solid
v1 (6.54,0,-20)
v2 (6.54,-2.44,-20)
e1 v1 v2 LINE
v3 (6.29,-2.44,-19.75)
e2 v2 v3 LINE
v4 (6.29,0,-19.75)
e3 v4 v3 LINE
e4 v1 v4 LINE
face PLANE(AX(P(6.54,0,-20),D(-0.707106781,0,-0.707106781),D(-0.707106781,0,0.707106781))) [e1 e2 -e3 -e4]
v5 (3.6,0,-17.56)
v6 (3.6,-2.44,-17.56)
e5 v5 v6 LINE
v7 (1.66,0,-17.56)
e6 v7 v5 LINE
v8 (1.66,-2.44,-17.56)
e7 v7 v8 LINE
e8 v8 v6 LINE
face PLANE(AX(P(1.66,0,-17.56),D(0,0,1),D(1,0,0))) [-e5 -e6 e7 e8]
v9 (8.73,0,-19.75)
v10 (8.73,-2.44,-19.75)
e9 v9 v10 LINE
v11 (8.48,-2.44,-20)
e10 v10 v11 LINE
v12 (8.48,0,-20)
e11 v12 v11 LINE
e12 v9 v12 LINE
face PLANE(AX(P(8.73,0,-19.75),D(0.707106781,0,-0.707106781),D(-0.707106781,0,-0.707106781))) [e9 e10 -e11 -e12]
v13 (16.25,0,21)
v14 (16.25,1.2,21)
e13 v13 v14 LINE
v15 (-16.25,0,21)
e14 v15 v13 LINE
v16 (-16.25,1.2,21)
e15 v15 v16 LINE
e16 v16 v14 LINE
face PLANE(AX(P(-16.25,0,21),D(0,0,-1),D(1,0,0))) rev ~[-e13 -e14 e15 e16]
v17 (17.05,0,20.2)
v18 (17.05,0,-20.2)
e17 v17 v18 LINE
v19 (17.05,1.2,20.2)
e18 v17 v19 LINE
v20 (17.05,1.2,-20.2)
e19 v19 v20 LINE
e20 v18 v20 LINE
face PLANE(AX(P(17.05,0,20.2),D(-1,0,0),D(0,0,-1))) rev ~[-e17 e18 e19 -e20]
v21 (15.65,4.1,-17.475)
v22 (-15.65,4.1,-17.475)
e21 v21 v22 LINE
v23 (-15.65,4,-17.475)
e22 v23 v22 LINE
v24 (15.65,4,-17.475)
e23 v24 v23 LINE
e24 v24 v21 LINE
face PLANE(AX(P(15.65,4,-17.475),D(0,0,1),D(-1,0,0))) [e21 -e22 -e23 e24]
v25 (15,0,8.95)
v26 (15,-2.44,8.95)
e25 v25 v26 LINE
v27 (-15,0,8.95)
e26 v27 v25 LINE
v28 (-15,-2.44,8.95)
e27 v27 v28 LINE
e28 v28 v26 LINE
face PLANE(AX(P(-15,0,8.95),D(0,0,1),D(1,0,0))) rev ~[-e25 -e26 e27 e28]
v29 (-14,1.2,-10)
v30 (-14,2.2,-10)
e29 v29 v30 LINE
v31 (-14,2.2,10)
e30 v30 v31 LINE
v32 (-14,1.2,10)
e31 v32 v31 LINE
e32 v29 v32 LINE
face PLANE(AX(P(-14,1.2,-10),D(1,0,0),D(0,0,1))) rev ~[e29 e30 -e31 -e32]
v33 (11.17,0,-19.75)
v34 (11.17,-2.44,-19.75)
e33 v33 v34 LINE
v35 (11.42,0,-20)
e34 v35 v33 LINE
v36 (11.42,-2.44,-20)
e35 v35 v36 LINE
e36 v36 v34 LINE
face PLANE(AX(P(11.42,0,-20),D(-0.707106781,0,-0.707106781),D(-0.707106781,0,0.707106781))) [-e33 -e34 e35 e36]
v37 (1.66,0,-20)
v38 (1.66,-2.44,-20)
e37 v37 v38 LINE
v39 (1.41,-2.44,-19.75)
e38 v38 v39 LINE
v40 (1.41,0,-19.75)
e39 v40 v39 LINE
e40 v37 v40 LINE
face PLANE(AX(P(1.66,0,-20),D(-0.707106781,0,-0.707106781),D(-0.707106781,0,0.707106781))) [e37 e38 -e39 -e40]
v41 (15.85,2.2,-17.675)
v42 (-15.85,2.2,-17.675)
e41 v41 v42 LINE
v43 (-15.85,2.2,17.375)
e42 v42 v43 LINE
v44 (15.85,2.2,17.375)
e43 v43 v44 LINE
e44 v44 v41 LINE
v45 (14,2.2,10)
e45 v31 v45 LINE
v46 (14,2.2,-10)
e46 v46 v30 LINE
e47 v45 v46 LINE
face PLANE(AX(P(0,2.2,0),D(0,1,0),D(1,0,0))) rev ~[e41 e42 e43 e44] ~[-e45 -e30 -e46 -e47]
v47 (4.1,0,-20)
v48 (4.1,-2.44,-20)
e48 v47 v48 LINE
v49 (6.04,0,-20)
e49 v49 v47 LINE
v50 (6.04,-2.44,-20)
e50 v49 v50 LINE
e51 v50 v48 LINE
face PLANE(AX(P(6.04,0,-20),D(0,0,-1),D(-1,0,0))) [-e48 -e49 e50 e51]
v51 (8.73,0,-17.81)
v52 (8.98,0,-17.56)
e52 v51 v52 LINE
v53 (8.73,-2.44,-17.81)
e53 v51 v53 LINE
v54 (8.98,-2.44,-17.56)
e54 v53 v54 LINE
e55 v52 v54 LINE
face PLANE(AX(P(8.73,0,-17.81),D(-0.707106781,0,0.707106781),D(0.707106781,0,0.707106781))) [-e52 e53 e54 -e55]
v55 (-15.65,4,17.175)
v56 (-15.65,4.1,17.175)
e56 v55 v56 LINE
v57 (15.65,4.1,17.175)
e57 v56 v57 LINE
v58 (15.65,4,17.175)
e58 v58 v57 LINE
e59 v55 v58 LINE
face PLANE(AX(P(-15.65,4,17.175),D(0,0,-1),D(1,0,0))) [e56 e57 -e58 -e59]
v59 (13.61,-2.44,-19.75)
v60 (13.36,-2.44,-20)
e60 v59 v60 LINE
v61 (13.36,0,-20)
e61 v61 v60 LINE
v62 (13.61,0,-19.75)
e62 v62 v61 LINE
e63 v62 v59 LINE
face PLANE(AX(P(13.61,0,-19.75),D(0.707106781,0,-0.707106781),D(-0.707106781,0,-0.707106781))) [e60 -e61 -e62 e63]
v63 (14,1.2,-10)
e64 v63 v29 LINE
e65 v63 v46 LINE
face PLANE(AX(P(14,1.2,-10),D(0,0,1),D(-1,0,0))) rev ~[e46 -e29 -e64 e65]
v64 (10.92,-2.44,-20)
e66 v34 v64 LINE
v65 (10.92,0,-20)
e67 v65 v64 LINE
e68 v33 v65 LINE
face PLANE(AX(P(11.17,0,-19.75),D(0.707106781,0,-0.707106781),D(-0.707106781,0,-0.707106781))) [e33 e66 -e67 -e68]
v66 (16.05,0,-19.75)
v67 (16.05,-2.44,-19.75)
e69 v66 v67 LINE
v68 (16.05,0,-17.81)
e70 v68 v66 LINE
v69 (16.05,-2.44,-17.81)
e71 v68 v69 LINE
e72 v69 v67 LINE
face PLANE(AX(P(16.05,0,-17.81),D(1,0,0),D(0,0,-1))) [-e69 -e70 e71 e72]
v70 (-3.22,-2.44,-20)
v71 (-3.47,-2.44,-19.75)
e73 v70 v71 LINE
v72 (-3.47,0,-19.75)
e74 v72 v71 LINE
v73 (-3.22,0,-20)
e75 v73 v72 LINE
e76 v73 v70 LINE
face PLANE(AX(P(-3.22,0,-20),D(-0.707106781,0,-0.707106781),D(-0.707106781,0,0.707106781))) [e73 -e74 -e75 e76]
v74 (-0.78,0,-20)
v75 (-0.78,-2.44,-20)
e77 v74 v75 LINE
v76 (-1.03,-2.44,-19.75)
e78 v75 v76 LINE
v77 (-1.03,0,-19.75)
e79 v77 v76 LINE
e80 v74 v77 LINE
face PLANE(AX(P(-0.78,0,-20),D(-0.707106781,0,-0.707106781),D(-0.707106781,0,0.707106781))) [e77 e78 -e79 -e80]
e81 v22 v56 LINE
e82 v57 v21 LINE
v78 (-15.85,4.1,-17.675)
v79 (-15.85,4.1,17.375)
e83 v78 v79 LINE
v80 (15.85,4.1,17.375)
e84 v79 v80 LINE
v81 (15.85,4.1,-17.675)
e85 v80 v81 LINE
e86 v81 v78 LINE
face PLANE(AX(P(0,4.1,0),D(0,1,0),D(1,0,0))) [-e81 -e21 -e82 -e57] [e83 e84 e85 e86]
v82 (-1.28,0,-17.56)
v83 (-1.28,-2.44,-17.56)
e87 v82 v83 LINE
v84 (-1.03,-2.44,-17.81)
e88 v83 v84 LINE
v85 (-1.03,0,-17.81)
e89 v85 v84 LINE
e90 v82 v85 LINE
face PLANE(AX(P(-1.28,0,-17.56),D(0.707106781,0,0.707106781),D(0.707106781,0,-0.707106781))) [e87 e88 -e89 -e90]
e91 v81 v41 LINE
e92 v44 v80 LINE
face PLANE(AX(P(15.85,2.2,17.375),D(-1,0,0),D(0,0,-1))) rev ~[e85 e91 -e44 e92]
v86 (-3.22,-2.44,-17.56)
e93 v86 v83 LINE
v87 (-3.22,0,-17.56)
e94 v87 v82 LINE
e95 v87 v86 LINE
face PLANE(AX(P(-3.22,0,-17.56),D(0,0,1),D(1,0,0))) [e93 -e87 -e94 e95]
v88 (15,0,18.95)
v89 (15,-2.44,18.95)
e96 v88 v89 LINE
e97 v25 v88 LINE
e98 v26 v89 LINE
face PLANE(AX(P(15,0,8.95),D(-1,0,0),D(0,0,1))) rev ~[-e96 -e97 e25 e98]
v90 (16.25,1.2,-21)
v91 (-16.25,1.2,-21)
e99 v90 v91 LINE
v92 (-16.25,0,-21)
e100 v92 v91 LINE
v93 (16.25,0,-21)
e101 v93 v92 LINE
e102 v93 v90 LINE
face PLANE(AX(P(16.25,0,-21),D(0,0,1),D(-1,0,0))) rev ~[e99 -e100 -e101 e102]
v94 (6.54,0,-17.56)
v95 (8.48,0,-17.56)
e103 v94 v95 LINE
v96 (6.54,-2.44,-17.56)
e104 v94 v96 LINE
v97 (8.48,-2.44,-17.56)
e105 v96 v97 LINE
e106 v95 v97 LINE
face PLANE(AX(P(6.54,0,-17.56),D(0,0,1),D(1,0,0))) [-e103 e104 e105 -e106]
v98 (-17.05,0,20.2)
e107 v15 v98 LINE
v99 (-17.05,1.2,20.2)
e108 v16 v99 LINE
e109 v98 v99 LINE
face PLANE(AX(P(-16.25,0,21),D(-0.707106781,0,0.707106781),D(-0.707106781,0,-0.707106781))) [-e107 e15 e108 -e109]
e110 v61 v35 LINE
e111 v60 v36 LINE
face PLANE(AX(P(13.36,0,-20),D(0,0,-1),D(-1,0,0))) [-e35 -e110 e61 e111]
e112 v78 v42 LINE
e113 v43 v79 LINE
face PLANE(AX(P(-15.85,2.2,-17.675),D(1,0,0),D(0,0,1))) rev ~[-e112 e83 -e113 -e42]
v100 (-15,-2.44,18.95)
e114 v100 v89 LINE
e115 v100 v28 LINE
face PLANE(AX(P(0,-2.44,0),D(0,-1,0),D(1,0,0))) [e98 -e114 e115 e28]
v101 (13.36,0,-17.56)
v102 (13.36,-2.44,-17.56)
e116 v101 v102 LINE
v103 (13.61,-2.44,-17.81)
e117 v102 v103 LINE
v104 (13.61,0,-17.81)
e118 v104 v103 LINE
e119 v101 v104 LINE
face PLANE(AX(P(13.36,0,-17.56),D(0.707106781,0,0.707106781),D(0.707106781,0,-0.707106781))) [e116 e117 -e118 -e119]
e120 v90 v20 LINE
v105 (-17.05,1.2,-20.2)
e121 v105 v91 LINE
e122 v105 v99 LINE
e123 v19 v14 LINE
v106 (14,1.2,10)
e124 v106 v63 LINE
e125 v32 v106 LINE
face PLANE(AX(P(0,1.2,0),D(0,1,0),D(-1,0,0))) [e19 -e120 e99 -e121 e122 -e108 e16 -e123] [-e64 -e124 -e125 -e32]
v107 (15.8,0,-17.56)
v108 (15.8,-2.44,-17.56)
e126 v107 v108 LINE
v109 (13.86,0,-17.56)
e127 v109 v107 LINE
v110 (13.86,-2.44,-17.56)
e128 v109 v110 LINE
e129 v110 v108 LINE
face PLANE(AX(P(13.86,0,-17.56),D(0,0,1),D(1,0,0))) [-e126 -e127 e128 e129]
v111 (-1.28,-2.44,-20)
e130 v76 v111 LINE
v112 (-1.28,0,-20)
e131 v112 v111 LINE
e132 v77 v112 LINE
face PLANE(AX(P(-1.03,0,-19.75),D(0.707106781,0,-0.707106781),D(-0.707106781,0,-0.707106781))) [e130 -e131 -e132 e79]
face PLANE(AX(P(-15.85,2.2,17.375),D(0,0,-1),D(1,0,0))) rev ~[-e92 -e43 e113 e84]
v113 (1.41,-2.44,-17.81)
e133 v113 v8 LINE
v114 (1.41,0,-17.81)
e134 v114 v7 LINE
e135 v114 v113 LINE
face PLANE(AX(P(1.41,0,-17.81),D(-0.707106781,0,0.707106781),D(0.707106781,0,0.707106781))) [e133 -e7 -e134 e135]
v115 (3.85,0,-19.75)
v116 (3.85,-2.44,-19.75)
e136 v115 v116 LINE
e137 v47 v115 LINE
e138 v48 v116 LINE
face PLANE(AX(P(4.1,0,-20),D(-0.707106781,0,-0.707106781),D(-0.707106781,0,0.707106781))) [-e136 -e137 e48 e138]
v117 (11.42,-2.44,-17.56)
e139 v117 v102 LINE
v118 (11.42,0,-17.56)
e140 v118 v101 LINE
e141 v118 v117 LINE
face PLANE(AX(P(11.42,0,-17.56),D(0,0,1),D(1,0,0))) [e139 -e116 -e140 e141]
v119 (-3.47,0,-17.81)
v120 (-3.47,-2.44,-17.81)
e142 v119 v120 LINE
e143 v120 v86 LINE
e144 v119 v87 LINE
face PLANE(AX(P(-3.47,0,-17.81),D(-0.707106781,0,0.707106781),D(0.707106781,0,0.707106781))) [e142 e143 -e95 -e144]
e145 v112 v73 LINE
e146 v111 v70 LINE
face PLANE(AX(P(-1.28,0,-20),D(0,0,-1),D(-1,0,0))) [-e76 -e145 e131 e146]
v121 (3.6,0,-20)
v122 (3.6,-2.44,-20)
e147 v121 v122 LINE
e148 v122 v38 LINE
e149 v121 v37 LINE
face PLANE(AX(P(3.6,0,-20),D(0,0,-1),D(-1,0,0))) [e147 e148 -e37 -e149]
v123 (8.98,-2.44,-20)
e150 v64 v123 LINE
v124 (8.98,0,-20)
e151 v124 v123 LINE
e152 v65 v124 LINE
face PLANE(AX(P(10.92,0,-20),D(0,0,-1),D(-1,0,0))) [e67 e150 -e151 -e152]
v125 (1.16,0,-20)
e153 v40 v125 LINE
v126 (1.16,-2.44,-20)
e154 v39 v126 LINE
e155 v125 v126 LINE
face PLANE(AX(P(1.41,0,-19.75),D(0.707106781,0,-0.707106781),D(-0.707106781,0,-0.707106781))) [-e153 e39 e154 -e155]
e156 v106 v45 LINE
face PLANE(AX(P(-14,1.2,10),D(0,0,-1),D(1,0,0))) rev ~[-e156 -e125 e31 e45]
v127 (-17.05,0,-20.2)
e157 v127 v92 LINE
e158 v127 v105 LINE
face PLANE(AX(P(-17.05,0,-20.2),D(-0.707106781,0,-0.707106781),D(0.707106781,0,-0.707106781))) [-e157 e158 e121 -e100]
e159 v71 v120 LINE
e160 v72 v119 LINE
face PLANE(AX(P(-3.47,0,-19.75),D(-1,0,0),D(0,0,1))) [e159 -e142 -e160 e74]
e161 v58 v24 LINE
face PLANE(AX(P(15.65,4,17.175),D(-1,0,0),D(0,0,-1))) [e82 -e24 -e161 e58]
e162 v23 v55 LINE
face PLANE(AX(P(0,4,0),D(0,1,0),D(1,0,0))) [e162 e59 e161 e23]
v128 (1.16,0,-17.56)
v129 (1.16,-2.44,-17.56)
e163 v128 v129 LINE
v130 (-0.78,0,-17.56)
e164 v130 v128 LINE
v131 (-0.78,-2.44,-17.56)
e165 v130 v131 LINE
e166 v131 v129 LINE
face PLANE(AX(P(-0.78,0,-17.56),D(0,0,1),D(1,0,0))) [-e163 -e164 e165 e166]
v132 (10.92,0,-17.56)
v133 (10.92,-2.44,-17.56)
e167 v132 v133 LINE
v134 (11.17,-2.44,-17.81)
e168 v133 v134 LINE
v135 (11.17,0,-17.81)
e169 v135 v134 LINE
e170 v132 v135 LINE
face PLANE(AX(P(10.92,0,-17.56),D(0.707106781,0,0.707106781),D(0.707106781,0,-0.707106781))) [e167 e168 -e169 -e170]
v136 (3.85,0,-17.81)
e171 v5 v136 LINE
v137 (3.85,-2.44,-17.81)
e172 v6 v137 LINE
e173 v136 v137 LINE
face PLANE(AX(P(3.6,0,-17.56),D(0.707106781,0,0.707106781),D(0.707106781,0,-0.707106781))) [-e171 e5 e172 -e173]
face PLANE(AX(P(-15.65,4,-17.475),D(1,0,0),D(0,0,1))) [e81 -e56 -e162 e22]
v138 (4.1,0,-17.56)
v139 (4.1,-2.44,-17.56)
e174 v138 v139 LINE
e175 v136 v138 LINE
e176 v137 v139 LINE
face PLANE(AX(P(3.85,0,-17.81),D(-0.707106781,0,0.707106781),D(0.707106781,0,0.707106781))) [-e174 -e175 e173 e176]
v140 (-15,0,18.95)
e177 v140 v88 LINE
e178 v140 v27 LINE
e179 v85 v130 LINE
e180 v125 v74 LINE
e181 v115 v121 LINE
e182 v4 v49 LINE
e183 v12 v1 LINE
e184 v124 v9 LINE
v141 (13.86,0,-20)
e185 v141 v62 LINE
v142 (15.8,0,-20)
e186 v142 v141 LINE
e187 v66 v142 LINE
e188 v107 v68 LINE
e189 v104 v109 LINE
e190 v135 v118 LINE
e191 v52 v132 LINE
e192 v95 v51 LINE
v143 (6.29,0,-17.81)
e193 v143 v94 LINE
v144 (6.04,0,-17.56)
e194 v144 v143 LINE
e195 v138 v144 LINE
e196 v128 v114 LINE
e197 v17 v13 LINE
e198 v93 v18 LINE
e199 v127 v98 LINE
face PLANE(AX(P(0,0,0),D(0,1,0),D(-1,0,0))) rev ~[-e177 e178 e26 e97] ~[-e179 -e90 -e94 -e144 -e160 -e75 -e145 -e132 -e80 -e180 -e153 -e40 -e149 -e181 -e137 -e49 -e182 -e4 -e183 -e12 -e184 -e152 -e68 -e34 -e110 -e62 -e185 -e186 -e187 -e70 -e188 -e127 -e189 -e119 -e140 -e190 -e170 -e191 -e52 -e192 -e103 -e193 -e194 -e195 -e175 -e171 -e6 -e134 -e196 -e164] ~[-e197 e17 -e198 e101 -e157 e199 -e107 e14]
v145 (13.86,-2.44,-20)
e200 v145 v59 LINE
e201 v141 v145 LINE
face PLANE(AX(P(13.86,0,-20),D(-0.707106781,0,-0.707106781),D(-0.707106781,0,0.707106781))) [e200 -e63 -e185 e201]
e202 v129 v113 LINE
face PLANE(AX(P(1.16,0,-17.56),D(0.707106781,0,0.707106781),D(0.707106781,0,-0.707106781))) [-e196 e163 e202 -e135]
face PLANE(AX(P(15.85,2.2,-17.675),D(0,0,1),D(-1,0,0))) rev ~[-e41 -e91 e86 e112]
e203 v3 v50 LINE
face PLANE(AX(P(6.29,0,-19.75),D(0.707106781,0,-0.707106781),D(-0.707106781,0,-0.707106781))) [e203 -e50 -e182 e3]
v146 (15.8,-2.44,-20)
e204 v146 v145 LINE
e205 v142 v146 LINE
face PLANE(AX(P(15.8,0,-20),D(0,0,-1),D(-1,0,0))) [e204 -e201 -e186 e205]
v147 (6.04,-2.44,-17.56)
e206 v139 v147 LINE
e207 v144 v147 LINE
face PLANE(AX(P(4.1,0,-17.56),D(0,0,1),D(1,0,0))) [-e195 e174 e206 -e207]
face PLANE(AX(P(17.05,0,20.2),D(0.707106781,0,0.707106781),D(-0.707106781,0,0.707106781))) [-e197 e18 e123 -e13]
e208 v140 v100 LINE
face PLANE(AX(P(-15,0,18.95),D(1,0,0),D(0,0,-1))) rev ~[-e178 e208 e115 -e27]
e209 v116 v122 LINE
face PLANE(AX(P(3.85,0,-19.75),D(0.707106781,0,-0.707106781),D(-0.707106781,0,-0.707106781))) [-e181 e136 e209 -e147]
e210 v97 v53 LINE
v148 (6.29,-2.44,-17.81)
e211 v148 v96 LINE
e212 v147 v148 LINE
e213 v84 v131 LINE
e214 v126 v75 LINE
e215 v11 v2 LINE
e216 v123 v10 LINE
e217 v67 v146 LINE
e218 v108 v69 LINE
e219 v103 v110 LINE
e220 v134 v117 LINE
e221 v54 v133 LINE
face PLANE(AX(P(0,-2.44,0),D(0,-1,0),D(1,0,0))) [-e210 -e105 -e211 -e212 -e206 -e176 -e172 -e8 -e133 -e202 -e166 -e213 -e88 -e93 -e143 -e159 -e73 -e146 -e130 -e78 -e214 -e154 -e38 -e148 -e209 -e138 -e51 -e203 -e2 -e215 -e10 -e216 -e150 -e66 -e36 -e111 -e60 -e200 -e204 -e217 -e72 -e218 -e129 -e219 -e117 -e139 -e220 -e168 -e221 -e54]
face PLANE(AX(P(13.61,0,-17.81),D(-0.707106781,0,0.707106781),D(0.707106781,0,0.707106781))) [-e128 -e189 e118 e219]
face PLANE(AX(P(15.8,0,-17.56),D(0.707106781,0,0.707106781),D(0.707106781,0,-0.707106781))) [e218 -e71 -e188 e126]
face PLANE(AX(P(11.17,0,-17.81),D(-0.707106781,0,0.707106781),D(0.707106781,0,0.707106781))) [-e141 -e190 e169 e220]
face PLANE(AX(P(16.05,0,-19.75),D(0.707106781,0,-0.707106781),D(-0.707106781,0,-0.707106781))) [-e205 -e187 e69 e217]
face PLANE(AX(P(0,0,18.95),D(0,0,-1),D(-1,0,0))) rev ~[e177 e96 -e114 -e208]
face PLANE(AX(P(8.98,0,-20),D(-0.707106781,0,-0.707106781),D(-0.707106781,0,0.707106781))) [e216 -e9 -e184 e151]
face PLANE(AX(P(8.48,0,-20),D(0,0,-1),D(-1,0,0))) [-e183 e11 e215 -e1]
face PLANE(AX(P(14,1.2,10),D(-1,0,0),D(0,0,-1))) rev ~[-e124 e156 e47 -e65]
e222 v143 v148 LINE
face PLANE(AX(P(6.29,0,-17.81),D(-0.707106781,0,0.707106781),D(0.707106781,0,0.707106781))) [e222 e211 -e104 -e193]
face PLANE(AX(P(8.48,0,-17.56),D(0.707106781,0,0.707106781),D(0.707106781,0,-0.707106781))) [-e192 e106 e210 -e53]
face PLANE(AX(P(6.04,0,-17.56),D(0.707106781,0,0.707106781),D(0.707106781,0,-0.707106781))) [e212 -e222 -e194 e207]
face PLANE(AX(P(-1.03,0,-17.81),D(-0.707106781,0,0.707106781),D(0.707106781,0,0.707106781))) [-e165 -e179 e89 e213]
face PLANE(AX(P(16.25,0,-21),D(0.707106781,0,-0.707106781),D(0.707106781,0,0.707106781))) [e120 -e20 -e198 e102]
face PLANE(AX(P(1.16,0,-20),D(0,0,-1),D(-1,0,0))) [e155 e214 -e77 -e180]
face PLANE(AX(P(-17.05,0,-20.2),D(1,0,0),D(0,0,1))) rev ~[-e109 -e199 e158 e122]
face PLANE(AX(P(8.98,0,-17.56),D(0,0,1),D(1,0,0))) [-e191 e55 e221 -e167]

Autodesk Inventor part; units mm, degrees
ref_plane "YZ Plane" through (0, 0, 0) normal (1, 0, 0) x (0, 1, 0)
sketch "Sketch1" plane through (0, 0, 0) normal (0, 1, 0) x (-1, 0, 0)
  line L0 (16.25, 21) -> (-16.25, 21)
  line L1 (-17.05, 20.2) -> (-17.05, -20.2)
  line L2 (-16.25, -21) -> (16.25, -21)
  line L3 (17.05, -20.2) -> (17.05, 20.2)
  line L4 (17.05, 21) -> (-17.05, -21) construction
  line L5 (-17.05, 21) -> (17.05, -21) construction
  line L6 (16.25, 21) -> (17.05, 20.2)
  line L7 (17.05, -20.2) -> (16.25, -21)
  line L8 (-16.25, -21) -> (-17.05, -20.2)
  line L9 (-17.05, 20.2) -> (-16.25, 21)
  point P0 (0, 0)
  dimension "d0" = 34.1
  dimension "d1" = 42
  dimension "d4" = 0.8
  dimension "d5" = 0.8
  dimension "d6" = 0.8
  dimension "d7" = 0.8
  dimension "d8" = 0.8
  dimension "d9" = 0.8
  dimension "d10" = 0.8
  dimension "d11" = 0.8
extrude "Extrusion1" add sketch "Sketch1" along normal blind 1.2
ref_plane "Work Plane1" through (0, 2.2, 0) normal (0, 1, 0) x (1, 0, 0)
sketch "Sketch2" plane through (0, 2.2, 0) normal (0, 1, 0) x (1, 0, 0)
  line L0 (-15.85, -17.375) -> (15.85, -17.375)
  line L1 (15.85, -17.375) -> (15.85, 17.675)
  line L2 (15.85, 17.675) -> (-15.85, 17.675)
  line L3 (-15.85, 17.675) -> (-15.85, -17.375)
  line L4 (-15.85, -17.375) -> (15.85, 17.675) construction
  line L5 (15.85, -17.375) -> (-15.85, 17.675) construction
  point P0 (0, 0.15)
  dimension "d13" = 31.7
  dimension "d14" = 35.05
extrude "Extrusion2" add sketch "Sketch2" along normal blind 1.8
sketch "Sketch3" plane through (0, 4, 0) normal (0, 1, 0) x (1, 0, 0)
  line L0 (-15.85, -17.375) -> (15.85, -17.375) projected
  line L1 (15.85, -17.375) -> (15.85, 17.675) projected
  line L2 (15.85, 17.675) -> (-15.85, 17.675) projected
  line L3 (-15.85, 17.675) -> (-15.85, -17.375) projected
  line L4 (-15.65, -17.175) -> (15.65, -17.175)
  line L5 (15.65, -17.175) -> (15.65, 17.475)
  line L6 (15.65, 17.475) -> (-15.65, 17.475)
  line L7 (-15.65, 17.475) -> (-15.65, -17.175)
  point P0 (0, 0)
  dimension "d17" = 0.2
extrude "Extrusion3" add sketch "Sketch3" along normal blind 0.1
sketch "Sketch4" plane through (0, 1.2, 0) normal (0, 1, 0) x (1, 0, 0)
  line L0 (-14, -10) -> (14, -10)
  line L1 (14, -10) -> (14, 10)
  line L2 (14, 10) -> (-14, 10)
  line L3 (-14, 10) -> (-14, -10)
  line L4 (-14, -10) -> (14, 10) construction
  line L5 (14, -10) -> (-14, 10) construction
  point P0 (0, 0)
  dimension "d20" = 28
  dimension "d21" = 20
extrude "Extrusion4" add sketch "Sketch4" along normal up to surface (1 mm away)
sketch "Sketch5" plane through (0, 0, 0) normal (0, -1, 0) x (1, 0, 0)
  line L0 (15.8, -20) -> (13.86, -20)
  line L1 (13.61, -19.75) -> (13.61, -17.81)
  line L2 (13.86, -17.56) -> (15.8, -17.56)
  line L3 (16.05, -17.81) -> (16.05, -19.75)
  line L4 (16.05, -19.75) -> (15.8, -20)
  line L5 (13.86, -20) -> (13.61, -19.75)
  line L6 (13.61, -17.81) -> (13.86, -17.56)
  line L7 (15.8, -17.56) -> (16.05, -17.81)
  line L8 (13.36, -20) -> (11.42, -20)
  line L9 (11.17, -19.75) -> (11.17, -17.81)
  line L10 (11.42, -17.56) -> (13.36, -17.56)
  line L11 (13.61, -17.81) -> (13.61, -19.75)
  line L12 (13.61, -19.75) -> (13.36, -20)
  line L13 (11.42, -20) -> (11.17, -19.75)
  line L14 (11.17, -17.81) -> (11.42, -17.56)
  line L15 (13.36, -17.56) -> (13.61, -17.81)
  line L16 (10.92, -20) -> (8.98, -20)
  line L17 (8.73, -19.75) -> (8.73, -17.81)
  line L18 (8.98, -17.56) -> (10.92, -17.56)
  line L19 (11.17, -17.81) -> (11.17, -19.75)
  line L20 (11.17, -19.75) -> (10.92, -20)
  line L21 (8.98, -20) -> (8.73, -19.75)
  line L22 (8.73, -17.81) -> (8.98, -17.56)
  line L23 (10.92, -17.56) -> (11.17, -17.81)
  line L24 (8.48, -20) -> (6.54, -20)
  line L25 (6.29, -19.75) -> (6.29, -17.81)
  line L26 (6.54, -17.56) -> (8.48, -17.56)
  line L27 (8.73, -17.81) -> (8.73, -19.75)
  line L28 (8.73, -19.75) -> (8.48, -20)
  line L29 (6.54, -20) -> (6.29, -19.75)
  line L30 (6.29, -17.81) -> (6.54, -17.56)
  line L31 (8.48, -17.56) -> (8.73, -17.81)
  line L32 (6.04, -20) -> (4.1, -20)
  line L33 (3.85, -19.75) -> (3.85, -17.81)
  line L34 (4.1, -17.56) -> (6.04, -17.56)
  line L35 (6.29, -17.81) -> (6.29, -19.75)
  line L36 (6.29, -19.75) -> (6.04, -20)
  line L37 (4.1, -20) -> (3.85, -19.75)
  line L38 (3.85, -17.81) -> (4.1, -17.56)
  line L39 (6.04, -17.56) -> (6.29, -17.81)
  line L40 (3.6, -20) -> (1.66, -20)
  line L41 (1.41, -19.75) -> (1.41, -17.81)
  line L42 (1.66, -17.56) -> (3.6, -17.56)
  line L43 (3.85, -17.81) -> (3.85, -19.75)
  line L44 (3.85, -19.75) -> (3.6, -20)
  line L45 (1.66, -20) -> (1.41, -19.75)
  line L46 (1.41, -17.81) -> (1.66, -17.56)
  line L47 (3.6, -17.56) -> (3.85, -17.81)
  line L48 (1.16, -20) -> (-0.78, -20)
  line L49 (-1.03, -19.75) -> (-1.03, -17.81)
  line L50 (-0.78, -17.56) -> (1.16, -17.56)
  line L51 (1.41, -17.81) -> (1.41, -19.75)
  line L52 (1.41, -19.75) -> (1.16, -20)
  line L53 (-0.78, -20) -> (-1.03, -19.75)
  line L54 (-1.03, -17.81) -> (-0.78, -17.56)
  line L55 (1.16, -17.56) -> (1.41, -17.81)
  line L56 (-1.28, -20) -> (-3.22, -20)
  line L57 (-3.47, -19.75) -> (-3.47, -17.81)
  line L58 (-3.22, -17.56) -> (-1.28, -17.56)
  line L59 (-1.03, -17.81) -> (-1.03, -19.75)
  line L60 (-1.03, -19.75) -> (-1.28, -20)
  line L61 (-3.22, -20) -> (-3.47, -19.75)
  line L62 (-3.47, -17.81) -> (-3.22, -17.56)
  line L63 (-1.28, -17.56) -> (-1.03, -17.81)
  point P0 (16.05, -20)
  point P1 (13.61, -17.56)
  point P2 (13.61, -20)
  point P3 (16.05, -17.56)
  point P4 (13.61, -20)
  point P5 (11.17, -17.56)
  point P6 (11.17, -20)
  point P7 (13.61, -17.56)
  point P8 (11.17, -20)
  point P9 (8.73, -17.56)
  point P10 (8.73, -20)
  point P11 (11.17, -17.56)
  point P12 (8.73, -20)
  point P13 (6.29, -17.56)
  point P14 (6.29, -20)
  point P15 (8.73, -17.56)
  point P16 (6.29, -20)
  point P17 (3.85, -17.56)
  point P18 (3.85, -20)
  point P19 (6.29, -17.56)
  point P20 (3.85, -20)
  point P21 (1.41, -17.56)
  point P22 (1.41, -20)
  point P23 (3.85, -17.56)
  point P24 (1.41, -20)
  point P25 (-1.03, -17.56)
  point P26 (-1.03, -20)
  point P27 (1.41, -17.56)
  point P28 (-1.03, -20)
  point P29 (-3.47, -17.56)
  point P30 (-3.47, -20)
  point P31 (-1.03, -17.56)
  dimension "d42" = 2.44
extrude "Extrusion5" add sketch "Sketch5" along normal blind 2.44
sketch "Sketch6" plane through (0, 0, 0) normal (0, -1, 0) x (1, 0, 0)
  line L0 (-15, 8.95) -> (15, 8.95)
  line L1 (15, 8.95) -> (15, 18.95)
  line L2 (15, 18.95) -> (-15, 18.95)
  line L3 (-15, 18.95) -> (-15, 8.95)
  line L4 (-15, 8.95) -> (15, 18.95) construction
  line L5 (15, 8.95) -> (-15, 18.95) construction
  line L6 (-16.25, 21) -> (16.25, 21) projected
  line L7 (0, 21) -> (0, 18.95)
  point P0 (0, 0)
  point P1 (0, 18.95)
  dimension "d49" = 30
  dimension "d50" = 10
  dimension "d51" = 2.05
ref_plane "Work Plane2" through (-19.708, -2.44, -51.7905) normal (0, 1, 0) x (0, 0, 1)
extrude "Extrusion6" add sketch "Sketch6" along normal up to surface (2.44 mm away)
equation "\"d5\" = d4"
equation "\"d6\" = d4"
equation "\"d7\" = d6"
equation "\"d8\" = d4"
equation "\"d9\" = d8"
equation "\"d10\" = d4"
equation "\"d11\" = d10"
properties part number "Display"
